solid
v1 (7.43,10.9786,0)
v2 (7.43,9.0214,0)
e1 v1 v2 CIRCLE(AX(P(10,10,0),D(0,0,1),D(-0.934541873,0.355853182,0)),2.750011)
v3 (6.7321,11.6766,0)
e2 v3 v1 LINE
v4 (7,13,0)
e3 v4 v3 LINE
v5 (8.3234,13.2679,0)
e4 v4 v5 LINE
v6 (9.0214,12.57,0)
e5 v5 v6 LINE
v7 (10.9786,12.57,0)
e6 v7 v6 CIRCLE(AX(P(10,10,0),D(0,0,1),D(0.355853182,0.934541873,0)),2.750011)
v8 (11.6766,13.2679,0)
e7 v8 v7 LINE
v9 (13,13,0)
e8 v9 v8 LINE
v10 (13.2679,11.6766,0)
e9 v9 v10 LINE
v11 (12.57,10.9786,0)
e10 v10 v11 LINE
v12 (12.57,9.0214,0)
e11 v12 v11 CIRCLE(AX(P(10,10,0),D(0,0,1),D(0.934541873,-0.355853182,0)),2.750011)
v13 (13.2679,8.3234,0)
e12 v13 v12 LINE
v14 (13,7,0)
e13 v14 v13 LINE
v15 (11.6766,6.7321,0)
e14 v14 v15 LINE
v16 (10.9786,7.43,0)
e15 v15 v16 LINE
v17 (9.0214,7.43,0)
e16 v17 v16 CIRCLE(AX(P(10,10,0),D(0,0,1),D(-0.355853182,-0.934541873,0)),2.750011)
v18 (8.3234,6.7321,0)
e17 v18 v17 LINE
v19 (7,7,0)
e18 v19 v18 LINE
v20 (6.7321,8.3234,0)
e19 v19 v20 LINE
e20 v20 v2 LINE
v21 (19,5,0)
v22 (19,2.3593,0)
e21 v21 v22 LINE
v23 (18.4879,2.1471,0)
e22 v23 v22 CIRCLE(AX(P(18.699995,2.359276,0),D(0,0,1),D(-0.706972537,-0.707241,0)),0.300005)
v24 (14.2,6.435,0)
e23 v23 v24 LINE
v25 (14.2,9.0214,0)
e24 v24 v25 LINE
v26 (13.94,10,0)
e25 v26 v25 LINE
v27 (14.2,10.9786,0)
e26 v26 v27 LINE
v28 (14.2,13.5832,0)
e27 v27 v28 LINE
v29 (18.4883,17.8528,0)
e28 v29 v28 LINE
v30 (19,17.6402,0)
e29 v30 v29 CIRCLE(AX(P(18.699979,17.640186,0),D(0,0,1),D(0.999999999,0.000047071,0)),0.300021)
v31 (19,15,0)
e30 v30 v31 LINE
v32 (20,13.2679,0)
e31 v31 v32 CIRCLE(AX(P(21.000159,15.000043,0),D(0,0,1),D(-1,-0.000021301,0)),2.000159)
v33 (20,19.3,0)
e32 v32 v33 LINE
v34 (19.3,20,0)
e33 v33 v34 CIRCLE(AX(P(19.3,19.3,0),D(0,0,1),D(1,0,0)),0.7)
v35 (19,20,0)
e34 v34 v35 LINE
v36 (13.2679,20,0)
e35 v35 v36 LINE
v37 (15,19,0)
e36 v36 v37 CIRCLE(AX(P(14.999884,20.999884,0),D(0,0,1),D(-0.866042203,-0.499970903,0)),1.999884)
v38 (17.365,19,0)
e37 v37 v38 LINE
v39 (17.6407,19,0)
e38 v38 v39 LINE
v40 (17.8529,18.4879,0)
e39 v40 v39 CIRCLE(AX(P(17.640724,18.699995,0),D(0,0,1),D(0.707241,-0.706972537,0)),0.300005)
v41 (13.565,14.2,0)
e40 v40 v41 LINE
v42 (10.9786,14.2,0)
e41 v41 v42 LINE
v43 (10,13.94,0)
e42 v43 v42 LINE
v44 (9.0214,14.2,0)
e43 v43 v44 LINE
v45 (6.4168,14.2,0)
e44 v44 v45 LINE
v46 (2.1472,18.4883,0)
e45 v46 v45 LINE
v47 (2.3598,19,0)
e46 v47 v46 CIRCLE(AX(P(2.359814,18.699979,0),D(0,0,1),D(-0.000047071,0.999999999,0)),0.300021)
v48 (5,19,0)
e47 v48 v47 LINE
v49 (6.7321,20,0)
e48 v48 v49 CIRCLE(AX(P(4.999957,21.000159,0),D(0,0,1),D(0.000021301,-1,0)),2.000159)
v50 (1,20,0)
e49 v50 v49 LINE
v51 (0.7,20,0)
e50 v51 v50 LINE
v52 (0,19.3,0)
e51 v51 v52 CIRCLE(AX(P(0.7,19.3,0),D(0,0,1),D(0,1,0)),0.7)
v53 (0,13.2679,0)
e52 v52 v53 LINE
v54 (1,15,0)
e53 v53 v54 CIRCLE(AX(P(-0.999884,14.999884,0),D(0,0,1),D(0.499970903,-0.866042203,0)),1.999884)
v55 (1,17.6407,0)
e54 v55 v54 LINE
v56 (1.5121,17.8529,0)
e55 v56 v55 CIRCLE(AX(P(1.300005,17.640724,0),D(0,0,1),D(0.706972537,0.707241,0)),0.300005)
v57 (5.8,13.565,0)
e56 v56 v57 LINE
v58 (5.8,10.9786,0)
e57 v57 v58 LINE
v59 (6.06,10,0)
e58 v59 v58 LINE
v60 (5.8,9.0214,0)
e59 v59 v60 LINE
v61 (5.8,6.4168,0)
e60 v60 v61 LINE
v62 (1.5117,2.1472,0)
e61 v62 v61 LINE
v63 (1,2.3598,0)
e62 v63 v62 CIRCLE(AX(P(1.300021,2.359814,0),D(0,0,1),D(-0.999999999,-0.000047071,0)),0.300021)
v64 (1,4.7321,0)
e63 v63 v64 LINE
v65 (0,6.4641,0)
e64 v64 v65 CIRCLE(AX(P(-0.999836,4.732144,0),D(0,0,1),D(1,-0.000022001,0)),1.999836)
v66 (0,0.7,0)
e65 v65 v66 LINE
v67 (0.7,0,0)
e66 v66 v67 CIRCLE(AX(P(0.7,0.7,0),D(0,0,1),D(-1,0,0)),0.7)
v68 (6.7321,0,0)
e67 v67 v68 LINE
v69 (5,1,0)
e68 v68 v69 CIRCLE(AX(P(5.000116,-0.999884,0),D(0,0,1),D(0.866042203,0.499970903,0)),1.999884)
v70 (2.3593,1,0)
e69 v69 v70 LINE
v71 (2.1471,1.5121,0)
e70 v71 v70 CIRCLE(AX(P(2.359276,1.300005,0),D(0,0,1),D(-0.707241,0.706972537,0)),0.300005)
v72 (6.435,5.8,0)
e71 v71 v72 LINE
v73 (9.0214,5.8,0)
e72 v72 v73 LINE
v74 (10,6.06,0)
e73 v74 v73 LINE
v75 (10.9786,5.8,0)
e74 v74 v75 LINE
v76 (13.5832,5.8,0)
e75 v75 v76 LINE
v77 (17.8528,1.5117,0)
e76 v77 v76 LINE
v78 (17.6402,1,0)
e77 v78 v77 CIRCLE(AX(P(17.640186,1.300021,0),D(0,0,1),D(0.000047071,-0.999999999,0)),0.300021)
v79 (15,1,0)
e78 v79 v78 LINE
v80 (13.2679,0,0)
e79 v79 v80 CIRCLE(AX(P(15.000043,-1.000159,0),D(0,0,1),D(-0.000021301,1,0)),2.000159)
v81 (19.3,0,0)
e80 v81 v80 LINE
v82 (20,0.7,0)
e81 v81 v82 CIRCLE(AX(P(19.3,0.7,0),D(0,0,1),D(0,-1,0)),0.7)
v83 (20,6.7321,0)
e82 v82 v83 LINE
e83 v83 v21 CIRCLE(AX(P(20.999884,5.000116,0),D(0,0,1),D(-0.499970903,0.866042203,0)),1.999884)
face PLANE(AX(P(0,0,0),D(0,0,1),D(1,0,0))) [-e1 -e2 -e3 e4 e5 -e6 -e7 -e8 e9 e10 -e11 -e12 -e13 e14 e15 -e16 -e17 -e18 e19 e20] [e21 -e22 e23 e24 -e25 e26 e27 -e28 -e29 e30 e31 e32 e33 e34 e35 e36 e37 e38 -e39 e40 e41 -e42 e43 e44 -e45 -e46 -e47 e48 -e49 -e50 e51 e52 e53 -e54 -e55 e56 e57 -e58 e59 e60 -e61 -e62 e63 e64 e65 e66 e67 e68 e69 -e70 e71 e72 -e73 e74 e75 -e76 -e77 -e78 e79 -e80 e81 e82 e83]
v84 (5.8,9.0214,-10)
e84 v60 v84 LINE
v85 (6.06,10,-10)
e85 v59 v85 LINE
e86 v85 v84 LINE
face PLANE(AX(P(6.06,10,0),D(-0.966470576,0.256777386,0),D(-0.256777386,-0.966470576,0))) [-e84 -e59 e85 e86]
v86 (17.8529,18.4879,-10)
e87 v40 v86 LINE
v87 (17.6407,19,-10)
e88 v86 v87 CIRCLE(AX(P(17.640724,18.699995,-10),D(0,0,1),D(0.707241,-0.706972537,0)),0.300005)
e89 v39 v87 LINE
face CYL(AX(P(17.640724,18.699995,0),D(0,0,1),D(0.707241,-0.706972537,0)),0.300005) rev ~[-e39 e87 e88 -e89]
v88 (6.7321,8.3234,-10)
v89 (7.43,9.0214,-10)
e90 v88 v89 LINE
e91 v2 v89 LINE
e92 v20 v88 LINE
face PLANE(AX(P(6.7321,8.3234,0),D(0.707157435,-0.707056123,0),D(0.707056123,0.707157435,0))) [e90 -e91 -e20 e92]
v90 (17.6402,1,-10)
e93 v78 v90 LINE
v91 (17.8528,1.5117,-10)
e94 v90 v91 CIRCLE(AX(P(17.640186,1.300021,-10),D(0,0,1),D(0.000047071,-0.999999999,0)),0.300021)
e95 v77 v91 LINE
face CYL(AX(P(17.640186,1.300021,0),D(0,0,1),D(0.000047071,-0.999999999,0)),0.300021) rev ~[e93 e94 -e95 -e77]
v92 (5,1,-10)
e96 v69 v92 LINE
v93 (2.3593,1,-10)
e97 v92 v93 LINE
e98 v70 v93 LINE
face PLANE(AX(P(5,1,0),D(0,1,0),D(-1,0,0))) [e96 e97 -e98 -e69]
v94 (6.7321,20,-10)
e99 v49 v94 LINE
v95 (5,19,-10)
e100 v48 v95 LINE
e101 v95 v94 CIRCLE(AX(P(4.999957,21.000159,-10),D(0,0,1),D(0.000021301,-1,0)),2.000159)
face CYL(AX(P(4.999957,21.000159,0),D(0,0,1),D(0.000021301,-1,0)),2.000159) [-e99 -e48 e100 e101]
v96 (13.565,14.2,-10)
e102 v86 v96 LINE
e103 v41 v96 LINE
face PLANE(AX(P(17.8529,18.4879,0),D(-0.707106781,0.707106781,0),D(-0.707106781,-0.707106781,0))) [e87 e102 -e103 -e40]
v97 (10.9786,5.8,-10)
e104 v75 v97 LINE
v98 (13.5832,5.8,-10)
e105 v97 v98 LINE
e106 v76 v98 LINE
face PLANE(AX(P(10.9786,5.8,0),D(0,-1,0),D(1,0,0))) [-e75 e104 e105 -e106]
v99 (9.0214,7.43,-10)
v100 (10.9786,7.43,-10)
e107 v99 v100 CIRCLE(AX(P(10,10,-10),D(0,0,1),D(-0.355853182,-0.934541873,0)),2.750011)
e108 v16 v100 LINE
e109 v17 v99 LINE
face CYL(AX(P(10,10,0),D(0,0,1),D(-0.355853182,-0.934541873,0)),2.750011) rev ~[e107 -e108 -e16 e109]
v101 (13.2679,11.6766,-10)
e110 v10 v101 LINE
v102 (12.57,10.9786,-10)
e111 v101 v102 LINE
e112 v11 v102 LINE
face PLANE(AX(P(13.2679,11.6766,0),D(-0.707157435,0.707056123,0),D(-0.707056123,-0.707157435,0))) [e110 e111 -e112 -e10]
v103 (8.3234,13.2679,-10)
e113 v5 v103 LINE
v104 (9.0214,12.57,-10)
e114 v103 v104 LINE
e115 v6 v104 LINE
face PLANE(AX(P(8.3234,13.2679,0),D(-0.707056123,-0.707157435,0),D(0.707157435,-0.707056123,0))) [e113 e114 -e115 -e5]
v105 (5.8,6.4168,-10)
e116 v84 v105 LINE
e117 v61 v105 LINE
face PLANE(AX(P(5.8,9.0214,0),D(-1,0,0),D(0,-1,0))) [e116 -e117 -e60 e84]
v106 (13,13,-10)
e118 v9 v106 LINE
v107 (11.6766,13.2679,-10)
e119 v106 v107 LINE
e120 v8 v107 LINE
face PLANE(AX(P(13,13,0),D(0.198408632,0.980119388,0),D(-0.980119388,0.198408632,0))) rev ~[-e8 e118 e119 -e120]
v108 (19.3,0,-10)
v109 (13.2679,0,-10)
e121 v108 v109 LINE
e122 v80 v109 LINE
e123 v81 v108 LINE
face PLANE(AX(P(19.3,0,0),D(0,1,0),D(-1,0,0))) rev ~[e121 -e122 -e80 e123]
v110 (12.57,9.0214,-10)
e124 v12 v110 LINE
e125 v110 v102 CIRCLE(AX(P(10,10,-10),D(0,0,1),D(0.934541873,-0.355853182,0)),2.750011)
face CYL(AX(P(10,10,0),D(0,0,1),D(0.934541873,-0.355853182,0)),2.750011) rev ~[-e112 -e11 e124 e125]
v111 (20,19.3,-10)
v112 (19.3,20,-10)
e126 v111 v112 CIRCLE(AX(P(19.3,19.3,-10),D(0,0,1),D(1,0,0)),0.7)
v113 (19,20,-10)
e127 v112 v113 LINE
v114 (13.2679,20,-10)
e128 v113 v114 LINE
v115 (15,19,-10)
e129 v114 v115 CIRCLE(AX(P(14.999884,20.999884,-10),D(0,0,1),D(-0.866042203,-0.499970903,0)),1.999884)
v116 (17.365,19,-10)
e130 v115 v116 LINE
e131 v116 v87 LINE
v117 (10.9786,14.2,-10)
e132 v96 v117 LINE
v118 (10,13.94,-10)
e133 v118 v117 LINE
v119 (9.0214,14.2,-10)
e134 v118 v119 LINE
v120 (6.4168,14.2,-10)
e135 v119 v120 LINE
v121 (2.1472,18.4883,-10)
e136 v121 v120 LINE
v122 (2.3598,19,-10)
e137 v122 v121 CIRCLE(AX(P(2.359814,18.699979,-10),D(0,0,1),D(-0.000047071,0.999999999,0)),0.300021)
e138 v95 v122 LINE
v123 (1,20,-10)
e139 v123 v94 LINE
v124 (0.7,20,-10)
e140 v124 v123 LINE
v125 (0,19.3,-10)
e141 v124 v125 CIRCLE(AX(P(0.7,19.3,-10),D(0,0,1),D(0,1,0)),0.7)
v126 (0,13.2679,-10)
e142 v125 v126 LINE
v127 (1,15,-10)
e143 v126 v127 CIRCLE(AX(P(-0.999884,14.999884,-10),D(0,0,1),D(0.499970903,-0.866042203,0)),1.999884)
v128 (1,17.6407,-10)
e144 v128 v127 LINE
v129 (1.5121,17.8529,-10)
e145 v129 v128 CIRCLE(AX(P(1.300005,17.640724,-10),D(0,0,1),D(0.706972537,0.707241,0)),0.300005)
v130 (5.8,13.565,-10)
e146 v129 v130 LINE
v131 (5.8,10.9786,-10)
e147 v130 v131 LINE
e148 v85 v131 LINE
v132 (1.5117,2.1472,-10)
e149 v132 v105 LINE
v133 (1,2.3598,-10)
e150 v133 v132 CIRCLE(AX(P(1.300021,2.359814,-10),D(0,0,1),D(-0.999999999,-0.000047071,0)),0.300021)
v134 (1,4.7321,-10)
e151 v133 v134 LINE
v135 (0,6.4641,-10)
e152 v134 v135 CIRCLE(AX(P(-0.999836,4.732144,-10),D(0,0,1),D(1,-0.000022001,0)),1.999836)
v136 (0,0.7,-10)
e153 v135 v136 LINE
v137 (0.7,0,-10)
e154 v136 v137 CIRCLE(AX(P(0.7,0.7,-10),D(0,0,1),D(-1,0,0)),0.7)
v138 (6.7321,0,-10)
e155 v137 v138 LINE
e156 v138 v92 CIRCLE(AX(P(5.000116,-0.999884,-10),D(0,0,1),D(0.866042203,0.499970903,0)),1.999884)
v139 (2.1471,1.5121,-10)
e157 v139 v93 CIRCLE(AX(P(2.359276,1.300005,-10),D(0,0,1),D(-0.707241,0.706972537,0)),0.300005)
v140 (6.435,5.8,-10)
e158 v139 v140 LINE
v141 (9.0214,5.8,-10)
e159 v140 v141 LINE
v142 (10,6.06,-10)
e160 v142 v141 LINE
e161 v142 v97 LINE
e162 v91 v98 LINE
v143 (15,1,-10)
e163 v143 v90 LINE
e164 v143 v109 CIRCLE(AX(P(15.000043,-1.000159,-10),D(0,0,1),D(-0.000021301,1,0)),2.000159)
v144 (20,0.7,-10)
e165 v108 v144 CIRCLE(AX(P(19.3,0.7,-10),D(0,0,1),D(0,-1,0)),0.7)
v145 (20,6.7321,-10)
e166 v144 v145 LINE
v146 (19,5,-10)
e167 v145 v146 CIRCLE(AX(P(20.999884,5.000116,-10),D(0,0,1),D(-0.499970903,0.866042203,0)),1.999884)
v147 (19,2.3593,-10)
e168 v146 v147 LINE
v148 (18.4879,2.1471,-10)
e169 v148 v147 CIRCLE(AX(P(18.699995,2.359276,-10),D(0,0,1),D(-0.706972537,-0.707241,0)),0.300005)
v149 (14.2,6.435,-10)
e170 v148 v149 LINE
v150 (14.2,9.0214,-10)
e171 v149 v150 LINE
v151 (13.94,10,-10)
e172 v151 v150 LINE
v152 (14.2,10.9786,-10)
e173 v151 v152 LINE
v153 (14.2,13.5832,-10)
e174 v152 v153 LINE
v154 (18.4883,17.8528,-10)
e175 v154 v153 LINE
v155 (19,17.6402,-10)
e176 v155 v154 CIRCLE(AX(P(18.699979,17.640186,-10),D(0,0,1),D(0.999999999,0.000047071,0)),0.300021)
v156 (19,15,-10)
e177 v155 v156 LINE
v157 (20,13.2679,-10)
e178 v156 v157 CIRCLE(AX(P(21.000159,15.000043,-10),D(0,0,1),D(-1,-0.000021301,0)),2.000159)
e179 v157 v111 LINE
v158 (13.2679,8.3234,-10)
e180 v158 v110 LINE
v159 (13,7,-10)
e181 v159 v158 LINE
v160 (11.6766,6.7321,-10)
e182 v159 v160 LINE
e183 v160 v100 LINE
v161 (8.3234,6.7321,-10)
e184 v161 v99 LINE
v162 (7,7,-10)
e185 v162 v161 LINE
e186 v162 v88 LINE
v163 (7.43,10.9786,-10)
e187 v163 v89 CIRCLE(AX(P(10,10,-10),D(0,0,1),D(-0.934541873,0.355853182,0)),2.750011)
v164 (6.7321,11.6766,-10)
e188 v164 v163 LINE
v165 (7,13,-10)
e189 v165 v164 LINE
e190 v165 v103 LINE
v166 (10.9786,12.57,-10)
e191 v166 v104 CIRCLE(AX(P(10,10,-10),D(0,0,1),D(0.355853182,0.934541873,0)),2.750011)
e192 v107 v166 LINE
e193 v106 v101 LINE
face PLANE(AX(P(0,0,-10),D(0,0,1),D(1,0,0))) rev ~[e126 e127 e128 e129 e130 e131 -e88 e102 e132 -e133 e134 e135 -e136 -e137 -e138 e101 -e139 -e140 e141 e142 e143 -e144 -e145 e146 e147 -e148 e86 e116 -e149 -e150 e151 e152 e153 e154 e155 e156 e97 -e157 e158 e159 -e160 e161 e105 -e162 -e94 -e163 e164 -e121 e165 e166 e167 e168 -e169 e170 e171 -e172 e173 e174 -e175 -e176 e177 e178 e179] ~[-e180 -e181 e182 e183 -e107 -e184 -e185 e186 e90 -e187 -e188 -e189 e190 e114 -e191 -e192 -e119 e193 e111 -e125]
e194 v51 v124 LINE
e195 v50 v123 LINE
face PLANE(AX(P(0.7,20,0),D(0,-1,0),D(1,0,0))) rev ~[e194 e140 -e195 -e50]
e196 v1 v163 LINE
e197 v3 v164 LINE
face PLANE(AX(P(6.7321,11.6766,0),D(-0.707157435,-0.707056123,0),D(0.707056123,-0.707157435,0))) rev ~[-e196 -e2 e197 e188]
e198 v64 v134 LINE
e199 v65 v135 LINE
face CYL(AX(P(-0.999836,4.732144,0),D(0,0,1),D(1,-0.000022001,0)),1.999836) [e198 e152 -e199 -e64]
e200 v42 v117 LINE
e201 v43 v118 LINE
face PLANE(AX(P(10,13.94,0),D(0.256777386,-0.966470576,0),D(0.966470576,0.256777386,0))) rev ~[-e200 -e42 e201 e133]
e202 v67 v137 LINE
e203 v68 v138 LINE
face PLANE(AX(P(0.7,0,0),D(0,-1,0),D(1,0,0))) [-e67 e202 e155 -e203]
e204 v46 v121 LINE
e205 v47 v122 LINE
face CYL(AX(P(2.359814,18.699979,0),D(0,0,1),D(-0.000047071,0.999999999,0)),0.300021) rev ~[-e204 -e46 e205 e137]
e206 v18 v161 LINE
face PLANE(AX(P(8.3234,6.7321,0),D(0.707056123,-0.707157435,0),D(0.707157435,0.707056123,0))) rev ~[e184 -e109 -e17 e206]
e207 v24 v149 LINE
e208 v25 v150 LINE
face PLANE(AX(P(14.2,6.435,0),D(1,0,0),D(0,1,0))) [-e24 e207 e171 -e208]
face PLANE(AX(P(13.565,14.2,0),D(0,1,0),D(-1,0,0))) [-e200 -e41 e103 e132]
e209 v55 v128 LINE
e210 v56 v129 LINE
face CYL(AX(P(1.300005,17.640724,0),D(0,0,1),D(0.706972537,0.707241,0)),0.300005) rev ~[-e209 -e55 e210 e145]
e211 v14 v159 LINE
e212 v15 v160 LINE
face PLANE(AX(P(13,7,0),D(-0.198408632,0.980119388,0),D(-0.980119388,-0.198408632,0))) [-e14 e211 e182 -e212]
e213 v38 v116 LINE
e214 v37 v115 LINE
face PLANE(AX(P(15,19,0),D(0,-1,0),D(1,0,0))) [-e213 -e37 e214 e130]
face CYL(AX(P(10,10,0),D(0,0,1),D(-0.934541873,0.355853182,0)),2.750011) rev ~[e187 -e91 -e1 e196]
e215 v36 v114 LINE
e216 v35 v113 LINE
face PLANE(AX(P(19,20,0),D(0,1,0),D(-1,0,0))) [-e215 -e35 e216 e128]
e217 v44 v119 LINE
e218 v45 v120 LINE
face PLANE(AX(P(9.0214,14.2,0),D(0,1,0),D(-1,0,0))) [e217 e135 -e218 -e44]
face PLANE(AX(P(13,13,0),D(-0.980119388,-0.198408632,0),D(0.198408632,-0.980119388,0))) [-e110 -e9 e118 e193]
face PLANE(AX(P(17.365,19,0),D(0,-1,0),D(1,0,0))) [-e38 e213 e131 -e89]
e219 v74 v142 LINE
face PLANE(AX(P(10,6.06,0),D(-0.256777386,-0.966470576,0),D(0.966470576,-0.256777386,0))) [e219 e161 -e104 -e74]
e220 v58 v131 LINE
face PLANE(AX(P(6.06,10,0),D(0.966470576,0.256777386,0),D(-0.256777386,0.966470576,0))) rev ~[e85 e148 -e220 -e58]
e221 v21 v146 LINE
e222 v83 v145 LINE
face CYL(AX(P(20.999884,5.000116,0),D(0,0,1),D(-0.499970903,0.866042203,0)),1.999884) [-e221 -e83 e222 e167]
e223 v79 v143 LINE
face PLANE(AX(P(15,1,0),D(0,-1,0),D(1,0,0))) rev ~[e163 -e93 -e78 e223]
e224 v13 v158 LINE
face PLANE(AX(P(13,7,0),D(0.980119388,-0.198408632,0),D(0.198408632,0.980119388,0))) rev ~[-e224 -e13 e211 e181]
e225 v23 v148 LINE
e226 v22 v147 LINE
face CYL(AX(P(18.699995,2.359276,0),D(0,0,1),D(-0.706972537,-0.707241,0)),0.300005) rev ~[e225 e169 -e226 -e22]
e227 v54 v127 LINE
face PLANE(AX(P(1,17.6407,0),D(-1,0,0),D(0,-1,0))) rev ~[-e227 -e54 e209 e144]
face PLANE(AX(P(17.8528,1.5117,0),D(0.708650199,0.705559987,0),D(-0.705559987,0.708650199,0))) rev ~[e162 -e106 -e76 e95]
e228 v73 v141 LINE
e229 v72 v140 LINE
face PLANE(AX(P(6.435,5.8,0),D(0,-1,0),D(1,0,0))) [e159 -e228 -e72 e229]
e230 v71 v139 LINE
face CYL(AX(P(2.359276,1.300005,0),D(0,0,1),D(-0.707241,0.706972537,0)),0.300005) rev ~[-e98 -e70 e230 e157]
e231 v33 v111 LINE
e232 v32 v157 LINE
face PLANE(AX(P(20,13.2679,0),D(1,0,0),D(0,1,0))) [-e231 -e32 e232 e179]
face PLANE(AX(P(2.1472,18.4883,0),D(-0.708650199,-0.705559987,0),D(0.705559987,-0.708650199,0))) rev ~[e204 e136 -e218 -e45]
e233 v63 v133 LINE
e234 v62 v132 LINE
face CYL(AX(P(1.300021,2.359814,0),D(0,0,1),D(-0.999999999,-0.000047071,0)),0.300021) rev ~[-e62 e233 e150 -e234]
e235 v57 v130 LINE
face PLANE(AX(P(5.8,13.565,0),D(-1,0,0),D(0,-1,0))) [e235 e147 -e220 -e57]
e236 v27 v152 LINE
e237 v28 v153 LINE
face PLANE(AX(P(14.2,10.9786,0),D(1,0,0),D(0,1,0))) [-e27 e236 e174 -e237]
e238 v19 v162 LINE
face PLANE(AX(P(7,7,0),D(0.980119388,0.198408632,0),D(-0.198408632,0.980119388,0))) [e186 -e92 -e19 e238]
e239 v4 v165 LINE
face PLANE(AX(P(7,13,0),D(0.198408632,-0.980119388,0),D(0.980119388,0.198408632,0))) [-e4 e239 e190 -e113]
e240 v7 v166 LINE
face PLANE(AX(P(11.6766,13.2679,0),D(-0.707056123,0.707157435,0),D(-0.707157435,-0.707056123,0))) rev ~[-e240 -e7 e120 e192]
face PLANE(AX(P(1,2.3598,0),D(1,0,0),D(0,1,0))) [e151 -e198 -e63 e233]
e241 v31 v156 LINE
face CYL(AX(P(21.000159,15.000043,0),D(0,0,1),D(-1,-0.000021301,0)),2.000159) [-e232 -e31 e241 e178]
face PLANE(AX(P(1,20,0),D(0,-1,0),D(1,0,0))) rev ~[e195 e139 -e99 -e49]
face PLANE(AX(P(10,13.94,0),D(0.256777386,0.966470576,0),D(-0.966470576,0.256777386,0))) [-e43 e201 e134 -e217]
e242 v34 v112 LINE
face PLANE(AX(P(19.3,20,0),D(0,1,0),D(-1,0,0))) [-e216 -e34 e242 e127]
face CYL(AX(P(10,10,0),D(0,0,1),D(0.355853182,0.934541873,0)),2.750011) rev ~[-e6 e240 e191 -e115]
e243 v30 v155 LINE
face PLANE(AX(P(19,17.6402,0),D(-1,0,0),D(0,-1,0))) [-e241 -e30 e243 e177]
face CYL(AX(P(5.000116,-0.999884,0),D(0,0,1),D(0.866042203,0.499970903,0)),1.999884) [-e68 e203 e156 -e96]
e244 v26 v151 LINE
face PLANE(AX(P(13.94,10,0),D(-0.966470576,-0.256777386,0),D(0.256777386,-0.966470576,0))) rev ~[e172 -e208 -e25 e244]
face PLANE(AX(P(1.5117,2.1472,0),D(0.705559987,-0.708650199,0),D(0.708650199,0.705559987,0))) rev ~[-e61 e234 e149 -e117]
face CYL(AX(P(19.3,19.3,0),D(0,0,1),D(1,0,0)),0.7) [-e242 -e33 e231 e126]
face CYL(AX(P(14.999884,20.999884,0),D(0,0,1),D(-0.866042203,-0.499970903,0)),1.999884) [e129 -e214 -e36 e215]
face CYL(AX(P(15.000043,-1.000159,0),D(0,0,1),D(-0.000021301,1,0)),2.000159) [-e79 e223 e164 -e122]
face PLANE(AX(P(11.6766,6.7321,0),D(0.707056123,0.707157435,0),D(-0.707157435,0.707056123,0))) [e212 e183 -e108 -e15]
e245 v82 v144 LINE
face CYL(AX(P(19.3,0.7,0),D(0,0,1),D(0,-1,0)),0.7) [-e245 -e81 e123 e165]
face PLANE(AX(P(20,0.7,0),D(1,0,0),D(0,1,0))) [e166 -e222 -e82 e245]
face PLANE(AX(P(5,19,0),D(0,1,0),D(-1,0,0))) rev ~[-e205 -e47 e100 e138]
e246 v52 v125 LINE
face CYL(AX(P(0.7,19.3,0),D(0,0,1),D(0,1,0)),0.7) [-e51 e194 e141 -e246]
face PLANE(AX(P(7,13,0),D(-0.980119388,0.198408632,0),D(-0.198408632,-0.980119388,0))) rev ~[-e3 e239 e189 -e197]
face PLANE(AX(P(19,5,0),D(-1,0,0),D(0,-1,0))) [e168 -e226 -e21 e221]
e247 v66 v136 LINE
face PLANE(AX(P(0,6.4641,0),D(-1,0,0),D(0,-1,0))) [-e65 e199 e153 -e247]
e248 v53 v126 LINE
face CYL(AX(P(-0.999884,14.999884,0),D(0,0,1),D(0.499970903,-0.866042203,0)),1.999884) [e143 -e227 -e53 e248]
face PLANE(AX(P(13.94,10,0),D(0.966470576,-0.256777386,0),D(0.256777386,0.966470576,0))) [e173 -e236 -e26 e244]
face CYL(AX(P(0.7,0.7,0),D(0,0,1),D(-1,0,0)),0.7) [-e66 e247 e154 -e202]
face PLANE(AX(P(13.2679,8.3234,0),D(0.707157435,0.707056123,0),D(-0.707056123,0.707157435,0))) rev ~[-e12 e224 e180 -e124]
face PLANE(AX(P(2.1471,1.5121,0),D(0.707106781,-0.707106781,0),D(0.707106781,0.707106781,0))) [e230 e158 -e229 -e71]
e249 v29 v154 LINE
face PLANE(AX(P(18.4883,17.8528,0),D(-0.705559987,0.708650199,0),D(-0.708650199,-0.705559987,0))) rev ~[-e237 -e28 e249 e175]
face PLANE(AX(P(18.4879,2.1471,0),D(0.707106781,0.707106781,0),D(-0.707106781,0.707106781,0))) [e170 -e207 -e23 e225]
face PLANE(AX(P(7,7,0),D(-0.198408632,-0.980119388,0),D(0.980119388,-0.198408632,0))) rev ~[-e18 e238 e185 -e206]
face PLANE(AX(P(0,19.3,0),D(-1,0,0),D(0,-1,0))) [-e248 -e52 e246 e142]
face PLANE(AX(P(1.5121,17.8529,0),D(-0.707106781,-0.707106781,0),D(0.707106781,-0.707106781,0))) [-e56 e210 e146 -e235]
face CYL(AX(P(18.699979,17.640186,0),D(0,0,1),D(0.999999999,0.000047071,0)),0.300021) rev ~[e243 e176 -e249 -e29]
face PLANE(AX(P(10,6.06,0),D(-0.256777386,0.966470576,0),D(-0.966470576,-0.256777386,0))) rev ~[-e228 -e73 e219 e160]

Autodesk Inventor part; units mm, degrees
ref_plane "YZ Plane" through (0, 0, 0) normal (1, 0, 0) x (0, 1, 0)
ref_plane "XZ Plane" through (0, 0, 0) normal (0, 1, 0) x (-1, 0, 0)
ref_plane "XY Plane" through (0, 0, 0) normal (0, 0, 1) x (1, 0, 0)
sketch "Boceto1" plane through (0, 0, 0) normal (0, 0, 1) x (1, 0, 0)
  line L0 (0, 20) -> (7, 20)
  line L1 (7, 20) -> (7, 21)
  line L2 (0, 20) -> (1, 20)
  line L3 (1, 17.6407) -> (1, 15)
  line L4 (-1, 13) -> (0, 13)
  line L5 (5, 19) -> (2.3598, 19)
  arc A0 (5, 19) -> (6.7321, 20) centre (5, 21) ccw
  arc A1 (0, 13.2679) -> (1, 15) centre (-1, 15) ccw
  line L6 (20, 20) -> (13, 20)
  line L7 (19.3, 20) -> (19, 20)
  line L8 (19, 17.6402) -> (19, 15)
  line L9 (21, 13) -> (20, 13)
  line L10 (13, 20) -> (13, 21)
  line L11 (15, 19) -> (18.365, 19)
  arc A2 (13.2679, 20) -> (15, 19) centre (15, 21) ccw
  arc A3 (19, 15) -> (20, 13.2679) centre (21, 15) ccw
  line L12 (0.7, 0) -> (7, 0)
  line L13 (-1, 8.6378) -> (0, 8.6378)
  line L14 (7, 0) -> (7, -1)
  line L15 (5, 1) -> (2.3593, 1)
  line L16 (19.3, 0) -> (13, 0)
  line L17 (13, 0) -> (13, -1)
  line L18 (15, 1) -> (17.6402, 1)
  line L19 (19, 5) -> (19, 2.3593)
  arc A4 (20, 6.7321) -> (19, 5) centre (21, 5) ccw
  arc A5 (15, 1) -> (13.2679, 0) centre (15, -1) ccw
  arc A6 (6.7321, 0) -> (5, 1) centre (5, -1) ccw
  line L20 (20, 20) -> (13, 20)
  line L21 (7, 20) -> (0.7, 20)
  line L22 (0, 19.3) -> (0, 13)
  line L23 (0, 6.4641) -> (0, 0.7)
  line L24 (20, 0.7) -> (20, 6.7321)
  line L25 (20, 13) -> (20, 19.3)
  line L26 (0, 0) -> (7, 0)
  line L27 (13, 0) -> (20, 0)
  line L28 (17.6407, 19) -> (17.365, 19)
  line L29 (17.8529, 18.4879) -> (13.565, 14.2)
  line L30 (18.4883, 17.8528) -> (14.2, 13.5832)
  line L31 (1.5121, 17.8529) -> (5.8, 13.565)
  line L32 (2.1472, 18.4883) -> (6.4168, 14.2)
  line L33 (2.1471, 1.5121) -> (6.435, 5.8)
  line L34 (1.5117, 2.1472) -> (5.8, 6.4168)
  line L35 (18.4879, 2.1471) -> (14.2, 6.435)
  line L36 (17.8528, 1.5117) -> (13.5832, 5.8)
  line L37 (13, 13) -> (11.6766, 13.2679)
  line L38 (11.6766, 13.2679) -> (10.9786, 12.57)
  line L39 (13, 13) -> (13.2679, 11.6766)
  line L40 (13.2679, 11.6766) -> (12.57, 10.9786)
  line L41 (6.7321, 11.6766) -> (7.43, 10.9786)
  line L42 (7, 13) -> (6.7321, 11.6766)
  line L43 (7, 13) -> (8.3234, 13.2679)
  line L44 (8.3234, 13.2679) -> (9.0214, 12.57)
  line L45 (8.3234, 6.7321) -> (9.0214, 7.43)
  line L46 (7, 7) -> (8.3234, 6.7321)
  line L47 (7, 7) -> (6.7321, 8.3234)
  line L48 (6.7321, 8.3234) -> (7.43, 9.0214)
  line L49 (13.2679, 8.3234) -> (12.57, 9.0214)
  line L50 (13, 7) -> (13.2679, 8.3234)
  line L51 (13, 7) -> (11.6766, 6.7321)
  line L52 (11.6766, 6.7321) -> (10.9786, 7.43)
  line L53 (7, 13) -> (5.8, 14.2) construction
  line L54 (5.8, 5.8) -> (7, 7) construction
  line L55 (14.2, 5.8) -> (13, 7) construction
  line L56 (11.9445, 8.0555) -> (8.0555, 11.9445) construction
  line L57 (8.0555, 8.0555) -> (11.9445, 11.9445) construction
  line L58 (13, 13) -> (14.2, 14.2) construction
  arc A7 (10.9786, 12.57) -> (9.0214, 12.57) centre (10, 10) ccw
  arc A8 (12.57, 9.0214) -> (12.57, 10.9786) centre (10, 10) ccw
  arc A9 (7.43, 10.9786) -> (7.43, 9.0214) centre (10, 10) ccw
  arc A10 (9.0214, 7.43) -> (10.9786, 7.43) centre (10, 10) ccw
  line L59 (13.94, 10) -> (14.2, 10.9786)
  line L60 (13.94, 10) -> (14.2, 9.0214)
  line L61 (14.2, 6.435) -> (14.2, 9.0214)
  line L62 (14.2, 10.9786) -> (14.2, 13.5832)
  line L63 (10, 13.94) -> (10.9786, 14.2)
  line L64 (10.9786, 14.2) -> (10, 13.94)
  line L65 (10, 13.94) -> (9.0214, 14.2)
  line L66 (6.06, 10) -> (5.8, 10.9786)
  line L67 (6.06, 10) -> (5.8, 9.0214)
  line L68 (10, 6.06) -> (10.9786, 5.8)
  line L69 (10, 6.06) -> (9.0214, 5.8)
  line L70 (6.435, 5.8) -> (9.0214, 5.8)
  line L71 (10.9786, 5.8) -> (13.5832, 5.8)
  line L72 (5.8, 13.565) -> (5.8, 10.9786)
  line L73 (5.8, 9.0214) -> (5.8, 6.4168)
  line L74 (13.565, 14.2) -> (10.9786, 14.2)
  line L75 (9.0214, 14.2) -> (6.4168, 14.2)
  line L76 (1, 2.3598) -> (1, 4.7321)
  arc A11 (1, 4.7321) -> (0, 6.4641) centre (-1, 4.7321) ccw
  arc A12 (0.7, 20) -> (0, 19.3) centre (0.7, 19.3) ccw
  arc A13 (20, 19.3) -> (19.3, 20) centre (19.3, 19.3) ccw
  arc A14 (19.3, 0) -> (20, 0.7) centre (19.3, 0.7) ccw
  arc A15 (0, 0.7) -> (0.7, 0) centre (0.7, 0.7) ccw
  arc A16 (2.3598, 19) -> (2.1472, 18.4883) centre (2.3598, 18.7) ccw
  arc A17 (1.5121, 17.8529) -> (1, 17.6407) centre (1.3, 17.6407) ccw
  arc A18 (17.8529, 18.4879) -> (17.6407, 19) centre (17.6407, 18.7) ccw
  arc A19 (19, 17.6402) -> (18.4883, 17.8528) centre (18.7, 17.6402) ccw
  arc A20 (18.4879, 2.1471) -> (19, 2.3593) centre (18.7, 2.3593) ccw
  arc A21 (17.6402, 1) -> (17.8528, 1.5117) centre (17.6402, 1.3) ccw
  arc A22 (2.1471, 1.5121) -> (2.3593, 1) centre (2.3593, 1.3) ccw
  arc A23 (1, 2.3598) -> (1.5117, 2.1472) centre (1.3, 2.3598) ccw
  point P0 (7, 19)
  point P1 (1, 13)
  point P2 (19, 13)
  point P3 (1, 1.6378)
  point P4 (1, 8.6378)
  point P5 (7, 1)
  point P6 (13, 1)
  point P7 (19, 1.635)
  point P8 (1, 18.365)
  point P9 (19, 18.3622)
  point P10 (19.6406, 19)
  point P11 (1, 19.6406)
  point P12 (0.3594, 1)
  point P13 (19, 0.3594)
  point P14 (1.6378, 19)
  point P15 (1.635, 1)
  point P16 (18.3622, 1)
  dimension "d1" = 20
  dimension "d2" = 20
  dimension "d5" = 7
  dimension "d6" = 1
  dimension "d7" = 1
  dimension "d8" = 7
  dimension "d9" = 2
  dimension "d10" = 2
  dimension "d11" = 7
  dimension "d12" = 1
  dimension "d13" = 7
  dimension "d14" = 2
  dimension "d15" = 7
  dimension "d16" = 1
  dimension "d17" = 7
  dimension "d20" = 8.4
  dimension "d21" = 8.4
  dimension "d23" = 0.9
  dimension "d26" = 360
  dimension "d30" = 360
  dimension "d38" = 2
  dimension "d41" = 0.7
  dimension "d42" = 0.3
extrude "Extrusión3" add sketch "Boceto1" against normal blind 10
properties part number "PerfilBaseJohan"
